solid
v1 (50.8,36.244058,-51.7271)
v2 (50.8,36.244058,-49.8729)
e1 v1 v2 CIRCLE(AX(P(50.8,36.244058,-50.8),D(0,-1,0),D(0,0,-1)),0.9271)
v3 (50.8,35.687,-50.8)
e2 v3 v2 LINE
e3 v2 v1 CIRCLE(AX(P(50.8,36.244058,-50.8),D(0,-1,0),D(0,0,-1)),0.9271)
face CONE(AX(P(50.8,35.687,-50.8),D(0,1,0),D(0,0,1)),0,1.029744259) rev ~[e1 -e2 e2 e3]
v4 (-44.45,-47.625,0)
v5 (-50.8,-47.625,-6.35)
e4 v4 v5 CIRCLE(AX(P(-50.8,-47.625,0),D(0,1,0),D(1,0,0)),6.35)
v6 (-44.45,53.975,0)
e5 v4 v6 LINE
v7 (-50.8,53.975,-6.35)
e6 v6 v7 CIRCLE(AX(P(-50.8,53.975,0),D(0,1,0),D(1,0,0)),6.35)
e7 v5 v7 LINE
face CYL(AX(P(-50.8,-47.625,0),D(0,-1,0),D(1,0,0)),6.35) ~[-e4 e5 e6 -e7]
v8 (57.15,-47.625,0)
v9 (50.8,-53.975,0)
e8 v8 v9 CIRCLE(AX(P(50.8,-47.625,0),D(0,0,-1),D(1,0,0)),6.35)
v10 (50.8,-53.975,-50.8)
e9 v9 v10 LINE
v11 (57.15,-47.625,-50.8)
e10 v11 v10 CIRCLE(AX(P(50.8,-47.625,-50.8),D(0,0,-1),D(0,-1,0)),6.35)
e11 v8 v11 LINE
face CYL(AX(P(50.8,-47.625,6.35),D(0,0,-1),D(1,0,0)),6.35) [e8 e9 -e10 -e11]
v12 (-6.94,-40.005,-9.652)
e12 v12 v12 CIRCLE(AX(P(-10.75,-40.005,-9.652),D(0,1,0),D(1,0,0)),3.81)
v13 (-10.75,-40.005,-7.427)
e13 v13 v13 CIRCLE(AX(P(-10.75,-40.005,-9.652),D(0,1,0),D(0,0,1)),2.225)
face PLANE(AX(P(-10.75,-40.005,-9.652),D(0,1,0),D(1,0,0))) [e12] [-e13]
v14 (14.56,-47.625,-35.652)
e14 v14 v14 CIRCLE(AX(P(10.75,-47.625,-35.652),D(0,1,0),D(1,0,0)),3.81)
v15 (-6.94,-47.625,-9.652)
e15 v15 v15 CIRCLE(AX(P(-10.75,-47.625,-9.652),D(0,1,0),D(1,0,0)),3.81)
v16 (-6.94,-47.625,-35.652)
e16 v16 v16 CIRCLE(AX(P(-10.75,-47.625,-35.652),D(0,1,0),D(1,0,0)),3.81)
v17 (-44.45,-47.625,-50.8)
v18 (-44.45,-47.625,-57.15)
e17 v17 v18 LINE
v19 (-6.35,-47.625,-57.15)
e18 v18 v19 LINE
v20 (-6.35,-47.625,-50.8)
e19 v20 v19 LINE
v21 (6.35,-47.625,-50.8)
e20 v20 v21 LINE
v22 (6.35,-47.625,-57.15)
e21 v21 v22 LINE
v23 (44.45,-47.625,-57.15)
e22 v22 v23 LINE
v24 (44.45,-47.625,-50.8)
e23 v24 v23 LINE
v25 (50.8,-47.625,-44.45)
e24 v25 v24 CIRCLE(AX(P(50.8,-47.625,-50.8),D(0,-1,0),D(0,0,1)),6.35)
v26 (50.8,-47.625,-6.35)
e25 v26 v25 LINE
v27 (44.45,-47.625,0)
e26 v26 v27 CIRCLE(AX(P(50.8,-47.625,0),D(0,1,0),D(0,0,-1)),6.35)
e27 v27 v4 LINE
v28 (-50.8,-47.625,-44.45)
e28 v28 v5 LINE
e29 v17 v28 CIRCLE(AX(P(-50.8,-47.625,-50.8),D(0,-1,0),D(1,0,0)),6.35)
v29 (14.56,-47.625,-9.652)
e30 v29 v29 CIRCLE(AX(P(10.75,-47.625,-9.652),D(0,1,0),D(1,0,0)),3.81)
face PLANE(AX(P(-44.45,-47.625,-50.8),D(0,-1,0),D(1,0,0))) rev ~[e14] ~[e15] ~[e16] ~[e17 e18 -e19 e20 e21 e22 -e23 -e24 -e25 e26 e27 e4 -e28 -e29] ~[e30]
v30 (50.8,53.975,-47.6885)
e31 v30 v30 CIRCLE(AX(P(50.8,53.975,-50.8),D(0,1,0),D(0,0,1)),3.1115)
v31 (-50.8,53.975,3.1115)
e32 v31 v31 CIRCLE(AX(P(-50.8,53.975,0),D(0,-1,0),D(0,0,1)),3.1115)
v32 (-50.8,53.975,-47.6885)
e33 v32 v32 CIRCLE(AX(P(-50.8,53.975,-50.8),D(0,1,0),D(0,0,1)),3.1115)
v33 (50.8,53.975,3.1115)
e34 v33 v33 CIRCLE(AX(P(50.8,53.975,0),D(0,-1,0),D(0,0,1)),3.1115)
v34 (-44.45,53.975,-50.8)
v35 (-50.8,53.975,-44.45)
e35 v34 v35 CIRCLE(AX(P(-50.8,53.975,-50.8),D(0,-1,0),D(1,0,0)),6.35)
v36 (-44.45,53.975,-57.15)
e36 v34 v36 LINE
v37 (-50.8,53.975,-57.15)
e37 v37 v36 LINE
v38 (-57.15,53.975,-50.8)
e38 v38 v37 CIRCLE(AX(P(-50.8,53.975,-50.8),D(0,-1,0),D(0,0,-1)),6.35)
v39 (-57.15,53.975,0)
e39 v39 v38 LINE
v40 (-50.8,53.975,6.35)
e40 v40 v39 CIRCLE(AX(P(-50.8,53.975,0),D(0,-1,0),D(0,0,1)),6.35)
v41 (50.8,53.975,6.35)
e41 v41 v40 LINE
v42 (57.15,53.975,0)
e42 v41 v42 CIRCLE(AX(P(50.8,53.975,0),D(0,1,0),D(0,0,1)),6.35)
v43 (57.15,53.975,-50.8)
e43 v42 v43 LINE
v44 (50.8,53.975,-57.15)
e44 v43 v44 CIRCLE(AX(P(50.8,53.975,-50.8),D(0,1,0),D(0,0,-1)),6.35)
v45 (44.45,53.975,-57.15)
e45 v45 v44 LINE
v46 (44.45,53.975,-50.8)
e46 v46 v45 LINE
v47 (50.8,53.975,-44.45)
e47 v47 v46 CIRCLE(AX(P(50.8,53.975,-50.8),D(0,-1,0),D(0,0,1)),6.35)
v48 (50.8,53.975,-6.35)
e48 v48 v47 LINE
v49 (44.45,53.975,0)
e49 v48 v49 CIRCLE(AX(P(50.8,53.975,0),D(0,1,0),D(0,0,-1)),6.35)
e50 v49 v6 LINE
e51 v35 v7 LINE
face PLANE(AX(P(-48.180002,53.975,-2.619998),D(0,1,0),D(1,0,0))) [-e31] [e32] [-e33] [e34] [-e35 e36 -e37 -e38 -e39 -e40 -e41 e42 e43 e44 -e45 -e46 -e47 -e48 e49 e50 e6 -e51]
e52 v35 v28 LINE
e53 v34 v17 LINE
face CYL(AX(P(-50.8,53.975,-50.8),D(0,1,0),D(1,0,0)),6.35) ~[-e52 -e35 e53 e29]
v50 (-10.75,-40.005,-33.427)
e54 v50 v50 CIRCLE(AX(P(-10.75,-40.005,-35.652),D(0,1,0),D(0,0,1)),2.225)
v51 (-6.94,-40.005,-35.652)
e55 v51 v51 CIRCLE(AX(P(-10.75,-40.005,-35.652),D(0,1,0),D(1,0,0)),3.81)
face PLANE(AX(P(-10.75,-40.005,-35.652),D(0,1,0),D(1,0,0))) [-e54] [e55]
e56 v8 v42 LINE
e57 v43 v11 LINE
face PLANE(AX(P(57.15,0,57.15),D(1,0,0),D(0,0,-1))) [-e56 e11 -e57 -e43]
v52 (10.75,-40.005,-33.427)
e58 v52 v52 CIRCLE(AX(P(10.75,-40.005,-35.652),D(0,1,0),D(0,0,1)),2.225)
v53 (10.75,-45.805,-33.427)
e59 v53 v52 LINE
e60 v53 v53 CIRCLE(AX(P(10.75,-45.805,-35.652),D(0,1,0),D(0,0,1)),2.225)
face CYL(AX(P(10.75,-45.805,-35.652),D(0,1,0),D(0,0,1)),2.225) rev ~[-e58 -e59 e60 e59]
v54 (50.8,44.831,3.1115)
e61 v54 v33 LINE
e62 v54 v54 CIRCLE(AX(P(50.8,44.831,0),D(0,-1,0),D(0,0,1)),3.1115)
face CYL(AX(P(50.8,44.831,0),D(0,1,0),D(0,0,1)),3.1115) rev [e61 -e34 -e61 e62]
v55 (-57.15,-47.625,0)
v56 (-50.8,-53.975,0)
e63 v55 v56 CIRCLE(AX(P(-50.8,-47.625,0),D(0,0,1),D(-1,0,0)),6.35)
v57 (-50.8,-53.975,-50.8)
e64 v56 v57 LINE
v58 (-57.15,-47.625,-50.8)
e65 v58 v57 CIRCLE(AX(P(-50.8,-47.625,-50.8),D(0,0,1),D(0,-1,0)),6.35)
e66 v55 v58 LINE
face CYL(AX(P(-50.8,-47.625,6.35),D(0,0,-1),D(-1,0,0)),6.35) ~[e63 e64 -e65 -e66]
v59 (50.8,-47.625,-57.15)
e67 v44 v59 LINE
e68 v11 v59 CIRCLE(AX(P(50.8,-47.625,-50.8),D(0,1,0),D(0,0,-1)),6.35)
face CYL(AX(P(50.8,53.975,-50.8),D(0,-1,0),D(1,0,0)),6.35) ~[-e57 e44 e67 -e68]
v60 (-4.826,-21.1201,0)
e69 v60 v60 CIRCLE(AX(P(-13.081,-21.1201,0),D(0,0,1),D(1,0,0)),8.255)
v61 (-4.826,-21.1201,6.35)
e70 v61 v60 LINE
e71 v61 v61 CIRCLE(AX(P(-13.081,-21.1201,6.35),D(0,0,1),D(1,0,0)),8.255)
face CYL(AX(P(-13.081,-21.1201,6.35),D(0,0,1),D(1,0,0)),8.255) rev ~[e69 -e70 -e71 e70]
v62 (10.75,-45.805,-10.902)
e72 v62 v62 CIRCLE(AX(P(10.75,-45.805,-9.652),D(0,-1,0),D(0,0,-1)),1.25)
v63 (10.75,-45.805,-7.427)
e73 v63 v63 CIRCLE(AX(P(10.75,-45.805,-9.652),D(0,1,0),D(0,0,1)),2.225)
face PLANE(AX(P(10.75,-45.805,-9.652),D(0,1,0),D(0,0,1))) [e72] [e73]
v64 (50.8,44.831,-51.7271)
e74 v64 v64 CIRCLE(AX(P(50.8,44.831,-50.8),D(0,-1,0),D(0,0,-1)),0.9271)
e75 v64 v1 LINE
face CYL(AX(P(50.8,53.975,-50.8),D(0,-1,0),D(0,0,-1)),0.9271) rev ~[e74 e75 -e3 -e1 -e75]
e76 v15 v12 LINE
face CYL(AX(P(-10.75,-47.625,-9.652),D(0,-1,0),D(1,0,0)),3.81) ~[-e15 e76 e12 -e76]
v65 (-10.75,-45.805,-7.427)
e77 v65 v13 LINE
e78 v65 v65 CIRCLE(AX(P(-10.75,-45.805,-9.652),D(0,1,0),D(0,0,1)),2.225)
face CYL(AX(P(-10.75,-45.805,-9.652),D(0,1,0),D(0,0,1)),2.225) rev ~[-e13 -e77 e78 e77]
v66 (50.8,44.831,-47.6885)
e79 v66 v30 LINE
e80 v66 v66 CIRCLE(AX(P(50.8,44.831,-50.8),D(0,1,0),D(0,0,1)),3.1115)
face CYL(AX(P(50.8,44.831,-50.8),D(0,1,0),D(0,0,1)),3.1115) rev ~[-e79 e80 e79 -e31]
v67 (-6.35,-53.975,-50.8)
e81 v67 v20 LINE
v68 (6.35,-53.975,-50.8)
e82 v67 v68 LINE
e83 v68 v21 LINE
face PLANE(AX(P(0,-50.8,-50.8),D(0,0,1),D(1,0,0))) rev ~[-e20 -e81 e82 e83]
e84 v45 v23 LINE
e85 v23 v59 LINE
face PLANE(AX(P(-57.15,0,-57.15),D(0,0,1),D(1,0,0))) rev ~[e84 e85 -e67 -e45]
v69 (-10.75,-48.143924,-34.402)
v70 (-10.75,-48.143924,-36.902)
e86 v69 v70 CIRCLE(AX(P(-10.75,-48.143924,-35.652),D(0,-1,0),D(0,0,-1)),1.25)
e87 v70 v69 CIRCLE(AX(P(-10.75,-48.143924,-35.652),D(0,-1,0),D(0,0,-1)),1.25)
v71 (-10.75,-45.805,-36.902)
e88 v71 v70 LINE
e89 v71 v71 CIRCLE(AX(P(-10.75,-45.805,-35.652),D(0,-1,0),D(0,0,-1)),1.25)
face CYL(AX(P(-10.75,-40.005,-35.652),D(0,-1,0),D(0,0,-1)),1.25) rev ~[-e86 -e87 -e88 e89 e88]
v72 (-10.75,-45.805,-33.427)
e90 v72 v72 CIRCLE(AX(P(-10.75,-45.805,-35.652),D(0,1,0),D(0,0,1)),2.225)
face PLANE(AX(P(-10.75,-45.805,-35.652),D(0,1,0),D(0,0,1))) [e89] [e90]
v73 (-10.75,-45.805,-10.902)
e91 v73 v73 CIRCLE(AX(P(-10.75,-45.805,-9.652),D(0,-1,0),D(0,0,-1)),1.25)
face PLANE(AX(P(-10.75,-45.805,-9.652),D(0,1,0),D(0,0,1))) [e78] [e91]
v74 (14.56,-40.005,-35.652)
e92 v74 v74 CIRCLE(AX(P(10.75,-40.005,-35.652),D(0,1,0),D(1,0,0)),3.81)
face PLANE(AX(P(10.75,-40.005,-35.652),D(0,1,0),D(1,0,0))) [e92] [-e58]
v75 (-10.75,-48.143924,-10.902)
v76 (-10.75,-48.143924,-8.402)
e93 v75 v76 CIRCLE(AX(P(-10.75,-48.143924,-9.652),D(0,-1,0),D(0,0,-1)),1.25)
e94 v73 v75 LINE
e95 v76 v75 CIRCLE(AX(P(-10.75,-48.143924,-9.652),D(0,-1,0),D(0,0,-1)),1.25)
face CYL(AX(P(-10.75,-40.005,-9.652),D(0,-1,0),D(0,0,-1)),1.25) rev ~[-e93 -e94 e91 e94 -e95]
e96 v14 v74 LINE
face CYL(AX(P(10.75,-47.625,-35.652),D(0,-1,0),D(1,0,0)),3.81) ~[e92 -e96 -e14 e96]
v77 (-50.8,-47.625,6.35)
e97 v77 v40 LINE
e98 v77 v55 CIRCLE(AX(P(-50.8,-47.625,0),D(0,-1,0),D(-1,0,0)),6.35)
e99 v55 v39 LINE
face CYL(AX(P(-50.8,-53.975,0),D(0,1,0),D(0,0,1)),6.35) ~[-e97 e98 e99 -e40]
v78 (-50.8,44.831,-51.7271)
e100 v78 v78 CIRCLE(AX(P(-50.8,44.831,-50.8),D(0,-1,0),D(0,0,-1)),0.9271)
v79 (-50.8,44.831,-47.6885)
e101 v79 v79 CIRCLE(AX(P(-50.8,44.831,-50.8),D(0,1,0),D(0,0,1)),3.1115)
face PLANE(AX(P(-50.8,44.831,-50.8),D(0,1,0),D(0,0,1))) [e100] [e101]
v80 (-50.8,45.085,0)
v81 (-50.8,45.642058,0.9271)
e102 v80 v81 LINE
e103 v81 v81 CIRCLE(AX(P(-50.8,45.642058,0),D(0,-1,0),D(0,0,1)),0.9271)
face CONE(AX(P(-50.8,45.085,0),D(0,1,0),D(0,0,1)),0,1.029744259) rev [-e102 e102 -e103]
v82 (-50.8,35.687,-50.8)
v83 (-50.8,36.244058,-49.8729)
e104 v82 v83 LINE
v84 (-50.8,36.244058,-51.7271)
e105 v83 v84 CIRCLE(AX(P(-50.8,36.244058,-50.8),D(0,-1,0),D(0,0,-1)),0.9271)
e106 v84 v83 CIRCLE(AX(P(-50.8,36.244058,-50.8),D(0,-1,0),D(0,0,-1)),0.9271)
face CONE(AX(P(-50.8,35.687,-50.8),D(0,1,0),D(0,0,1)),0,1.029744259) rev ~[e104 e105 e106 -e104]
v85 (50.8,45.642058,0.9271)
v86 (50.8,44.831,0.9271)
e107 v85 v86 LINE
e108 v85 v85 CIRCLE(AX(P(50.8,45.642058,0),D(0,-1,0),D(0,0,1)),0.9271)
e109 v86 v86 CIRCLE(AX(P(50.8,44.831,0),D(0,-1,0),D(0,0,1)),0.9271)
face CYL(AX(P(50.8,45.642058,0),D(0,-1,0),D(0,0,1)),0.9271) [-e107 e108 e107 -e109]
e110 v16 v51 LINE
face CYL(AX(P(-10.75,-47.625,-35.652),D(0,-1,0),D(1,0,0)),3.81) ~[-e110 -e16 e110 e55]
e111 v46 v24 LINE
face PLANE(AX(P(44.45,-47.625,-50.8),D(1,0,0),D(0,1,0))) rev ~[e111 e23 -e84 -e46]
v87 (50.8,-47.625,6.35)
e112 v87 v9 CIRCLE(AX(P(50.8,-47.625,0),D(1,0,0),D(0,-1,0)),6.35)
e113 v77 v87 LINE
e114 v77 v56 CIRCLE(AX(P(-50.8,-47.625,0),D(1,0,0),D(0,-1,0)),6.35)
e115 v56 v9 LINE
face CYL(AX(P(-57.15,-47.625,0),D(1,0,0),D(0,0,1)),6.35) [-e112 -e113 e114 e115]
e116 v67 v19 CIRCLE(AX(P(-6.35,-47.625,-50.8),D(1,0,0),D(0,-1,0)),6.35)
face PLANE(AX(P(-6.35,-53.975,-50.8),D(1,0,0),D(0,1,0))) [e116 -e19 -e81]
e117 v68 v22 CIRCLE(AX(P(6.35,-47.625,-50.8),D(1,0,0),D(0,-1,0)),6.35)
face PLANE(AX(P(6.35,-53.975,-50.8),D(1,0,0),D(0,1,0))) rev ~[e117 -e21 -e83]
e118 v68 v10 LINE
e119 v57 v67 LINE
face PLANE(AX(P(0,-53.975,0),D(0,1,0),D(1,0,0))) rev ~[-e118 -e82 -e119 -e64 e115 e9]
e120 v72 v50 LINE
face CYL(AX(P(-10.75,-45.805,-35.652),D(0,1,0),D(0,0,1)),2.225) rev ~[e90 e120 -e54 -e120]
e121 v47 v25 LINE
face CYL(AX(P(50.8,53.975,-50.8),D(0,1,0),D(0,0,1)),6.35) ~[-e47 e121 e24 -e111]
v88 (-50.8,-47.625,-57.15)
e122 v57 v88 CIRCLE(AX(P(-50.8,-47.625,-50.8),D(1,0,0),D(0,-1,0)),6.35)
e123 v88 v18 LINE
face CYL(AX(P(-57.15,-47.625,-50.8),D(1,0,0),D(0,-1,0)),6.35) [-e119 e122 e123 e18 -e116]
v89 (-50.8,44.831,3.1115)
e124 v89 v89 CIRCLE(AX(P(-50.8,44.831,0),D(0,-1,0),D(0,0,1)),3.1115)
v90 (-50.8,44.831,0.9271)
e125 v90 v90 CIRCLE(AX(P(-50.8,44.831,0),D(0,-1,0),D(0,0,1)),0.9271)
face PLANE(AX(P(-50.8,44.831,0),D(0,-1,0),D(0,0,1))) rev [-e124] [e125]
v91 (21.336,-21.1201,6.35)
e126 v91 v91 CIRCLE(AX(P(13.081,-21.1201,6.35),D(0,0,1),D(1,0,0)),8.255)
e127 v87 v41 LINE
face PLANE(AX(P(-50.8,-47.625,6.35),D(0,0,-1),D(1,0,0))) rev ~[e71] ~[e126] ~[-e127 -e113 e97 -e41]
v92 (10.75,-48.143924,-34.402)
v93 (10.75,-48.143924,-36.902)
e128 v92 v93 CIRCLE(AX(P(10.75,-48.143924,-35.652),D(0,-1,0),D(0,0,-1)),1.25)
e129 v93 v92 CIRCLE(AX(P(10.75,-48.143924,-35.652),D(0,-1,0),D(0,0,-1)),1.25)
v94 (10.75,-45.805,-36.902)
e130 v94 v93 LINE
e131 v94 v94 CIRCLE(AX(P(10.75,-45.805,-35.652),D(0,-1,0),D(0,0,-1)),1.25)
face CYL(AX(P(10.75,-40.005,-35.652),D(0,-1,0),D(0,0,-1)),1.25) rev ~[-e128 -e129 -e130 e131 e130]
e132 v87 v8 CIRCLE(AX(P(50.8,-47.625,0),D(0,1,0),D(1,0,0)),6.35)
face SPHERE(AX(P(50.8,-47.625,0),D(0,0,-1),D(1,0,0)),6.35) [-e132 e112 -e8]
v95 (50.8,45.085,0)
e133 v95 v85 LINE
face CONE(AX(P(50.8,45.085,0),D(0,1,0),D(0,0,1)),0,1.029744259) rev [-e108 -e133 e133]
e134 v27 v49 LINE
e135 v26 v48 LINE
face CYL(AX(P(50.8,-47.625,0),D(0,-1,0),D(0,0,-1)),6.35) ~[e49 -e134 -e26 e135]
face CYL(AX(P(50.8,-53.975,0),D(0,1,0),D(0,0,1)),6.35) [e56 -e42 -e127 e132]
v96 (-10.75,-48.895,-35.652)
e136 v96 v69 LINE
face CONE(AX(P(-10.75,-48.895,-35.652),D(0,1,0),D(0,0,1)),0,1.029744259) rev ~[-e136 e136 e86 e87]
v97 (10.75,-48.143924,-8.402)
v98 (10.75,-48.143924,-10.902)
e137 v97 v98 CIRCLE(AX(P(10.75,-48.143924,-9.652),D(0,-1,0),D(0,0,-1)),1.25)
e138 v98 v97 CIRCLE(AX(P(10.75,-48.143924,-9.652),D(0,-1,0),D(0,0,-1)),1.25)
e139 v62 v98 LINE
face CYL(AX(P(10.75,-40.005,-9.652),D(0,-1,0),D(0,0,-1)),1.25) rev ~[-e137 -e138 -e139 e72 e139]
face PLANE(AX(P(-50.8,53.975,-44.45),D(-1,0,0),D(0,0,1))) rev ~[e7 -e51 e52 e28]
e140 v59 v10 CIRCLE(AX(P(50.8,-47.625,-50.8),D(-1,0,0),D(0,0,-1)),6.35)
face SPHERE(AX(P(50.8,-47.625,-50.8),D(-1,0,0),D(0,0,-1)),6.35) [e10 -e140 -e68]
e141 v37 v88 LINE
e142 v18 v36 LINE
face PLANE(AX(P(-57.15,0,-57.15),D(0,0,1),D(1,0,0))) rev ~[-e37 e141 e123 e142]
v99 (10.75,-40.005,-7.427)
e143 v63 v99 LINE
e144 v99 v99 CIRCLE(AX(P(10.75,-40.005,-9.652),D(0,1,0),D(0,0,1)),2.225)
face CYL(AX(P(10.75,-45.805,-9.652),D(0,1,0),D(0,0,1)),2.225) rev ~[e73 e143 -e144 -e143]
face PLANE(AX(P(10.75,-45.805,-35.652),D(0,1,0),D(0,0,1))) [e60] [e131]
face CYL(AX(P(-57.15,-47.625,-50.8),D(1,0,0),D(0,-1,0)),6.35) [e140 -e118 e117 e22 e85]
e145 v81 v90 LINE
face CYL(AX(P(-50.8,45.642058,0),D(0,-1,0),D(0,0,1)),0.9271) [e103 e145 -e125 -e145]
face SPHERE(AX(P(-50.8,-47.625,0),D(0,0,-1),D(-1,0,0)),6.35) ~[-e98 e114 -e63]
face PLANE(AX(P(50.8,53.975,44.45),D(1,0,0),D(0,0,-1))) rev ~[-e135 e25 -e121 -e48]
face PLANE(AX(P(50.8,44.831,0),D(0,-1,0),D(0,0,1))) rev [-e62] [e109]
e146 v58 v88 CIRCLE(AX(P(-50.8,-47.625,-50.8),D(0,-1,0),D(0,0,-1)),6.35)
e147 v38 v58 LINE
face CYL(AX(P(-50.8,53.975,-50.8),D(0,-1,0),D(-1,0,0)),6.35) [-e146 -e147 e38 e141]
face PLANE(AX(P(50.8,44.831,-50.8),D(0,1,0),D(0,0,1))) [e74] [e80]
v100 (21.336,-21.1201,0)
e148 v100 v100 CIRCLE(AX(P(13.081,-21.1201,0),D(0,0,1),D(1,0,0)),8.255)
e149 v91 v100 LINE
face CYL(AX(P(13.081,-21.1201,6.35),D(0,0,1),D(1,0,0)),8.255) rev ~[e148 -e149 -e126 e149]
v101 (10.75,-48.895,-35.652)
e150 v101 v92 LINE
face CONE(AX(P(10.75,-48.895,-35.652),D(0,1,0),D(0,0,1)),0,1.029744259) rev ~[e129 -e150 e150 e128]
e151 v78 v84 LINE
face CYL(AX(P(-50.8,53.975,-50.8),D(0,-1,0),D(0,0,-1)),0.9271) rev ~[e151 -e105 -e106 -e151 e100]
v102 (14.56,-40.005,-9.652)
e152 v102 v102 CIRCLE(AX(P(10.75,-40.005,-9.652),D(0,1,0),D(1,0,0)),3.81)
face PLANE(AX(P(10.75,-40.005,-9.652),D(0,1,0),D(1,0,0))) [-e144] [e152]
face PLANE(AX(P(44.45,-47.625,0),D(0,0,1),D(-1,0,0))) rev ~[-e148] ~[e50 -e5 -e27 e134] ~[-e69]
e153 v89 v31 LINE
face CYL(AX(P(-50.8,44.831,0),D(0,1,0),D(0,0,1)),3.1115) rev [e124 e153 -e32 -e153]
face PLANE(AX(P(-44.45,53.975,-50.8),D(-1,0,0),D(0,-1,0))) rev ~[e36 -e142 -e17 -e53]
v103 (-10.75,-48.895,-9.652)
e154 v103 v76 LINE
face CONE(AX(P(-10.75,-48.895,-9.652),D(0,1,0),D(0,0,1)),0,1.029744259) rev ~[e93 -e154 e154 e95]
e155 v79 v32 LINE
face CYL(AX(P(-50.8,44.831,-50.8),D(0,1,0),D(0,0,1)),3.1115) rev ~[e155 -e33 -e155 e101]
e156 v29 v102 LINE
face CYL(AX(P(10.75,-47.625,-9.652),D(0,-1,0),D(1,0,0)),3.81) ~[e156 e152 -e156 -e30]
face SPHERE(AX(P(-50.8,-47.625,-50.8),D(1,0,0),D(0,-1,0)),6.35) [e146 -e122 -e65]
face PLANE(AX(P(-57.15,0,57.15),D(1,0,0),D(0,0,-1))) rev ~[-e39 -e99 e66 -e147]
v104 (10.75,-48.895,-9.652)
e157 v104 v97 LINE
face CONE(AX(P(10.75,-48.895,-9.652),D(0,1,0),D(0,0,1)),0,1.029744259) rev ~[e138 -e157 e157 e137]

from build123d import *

# Parameters (mm, degrees)
SKETCH1_W                                           = 114.3
SKETCH1_H                                           = 114.3
BOSS_EXTRUDE1_DEPTH                                 = 53.975
CUT_EXTRUDE1_DEPTH                                  = 101.6
CBORE_FOR_0_BINDING_HEAD_MACHINE_SCREW1_D           = 1.8542
CBORE_FOR_0_BINDING_HEAD_MACHINE_SCREW1_DEPTH       = 17.73094212
CBORE_FOR_0_BINDING_HEAD_MACHINE_SCREW1_CBORE_D     = 6.223
CBORE_FOR_0_BINDING_HEAD_MACHINE_SCREW1_CBORE_DEPTH = 9.144
CBORE_FOR_0_BINDING_HEAD_MACHINE_SCREW1_TIP         = 0.55705788
SKETCH5_W                                           = 34.94
SKETCH5_H                                           = 34.94
SKETCH5_W_2                                         = 15.25
SKETCH5_H_2                                         = 15.25
CUT_EXTRUDE5_DEPTH                                  = 0.55
CUT_EXTRUDE6_REACH                                  = 8.35
SKETCH5_3_W                                         = 15.25
SKETCH5_3_H                                         = 15.25
SKETCH13_R                                          = 2.54
BOSS_EXTRUDE2_DEPTH                                 = 1.27
CUT_EXTRUDE7_DEPTH                                  = 2.54
CUT_EXTRUDE8_DEPTH                                  = 0.635
CUT_EXTRUDE9_DEPTH                                  = 1.27
CBORE_FOR_M5_HEX_HEAD_BOLT2_AT_2_COUNT              = 2
CBORE_FOR_M5_HEX_HEAD_BOLT2_AT_2_PITCH              = 27.94
CBORE_FOR_M5_HEX_HEAD_BOLT2_AT_3_COUNT              = 2
CBORE_FOR_M5_HEX_HEAD_BOLT2_AT_3_PITCH              = 39.513126933
CBORE_FOR_M5_HEX_HEAD_BOLT2_AT_4_COUNT              = 2
CBORE_FOR_M5_HEX_HEAD_BOLT2_AT_4_PITCH              = 27.94
CUT_EXTRUDE10_DEPTH                                 = 2.032
CIRPATTERN1_COUNT                                   = 4
SKETCH24_W                                          = 114.3
SKETCH24_H                                          = 107.95
CUT_EXTRUDE11_DEPTH                                 = 50.8
BOSS_EXTRUDE3_DEPTH                                 = 101.6
SKETCH27_R                                          = 3.81
BOSS_EXTRUDE4_DEPTH                                 = 7.62
CUT_EXTRUDE12_REACH                                 = 68.04
SKETCH26_R                                          = 8.255
CBORE_FOR_M5_HEX_HEAD_BOLT3_D                       = 2.5
CBORE_FOR_M5_HEX_HEAD_BOLT3_DEPTH                   = 8.138924226
CBORE_FOR_M5_HEX_HEAD_BOLT3_CBORE_D                 = 4.45
CBORE_FOR_M5_HEX_HEAD_BOLT3_CBORE_DEPTH             = 5.8
CBORE_FOR_M5_HEX_HEAD_BOLT3_TIP                     = 0.751075774
CBORE_FOR_0_BINDING_HEAD_MACHINE_SC_2_COUNT         = 2
CBORE_FOR_0_BINDING_HEAD_MACHINE_SC_2_PITCH         = 101.6
FILLET1_R                                           = 6.35
CUT_EXTRUDE13_REACH                                 = 10.89
SKETCH30_W                                          = 34.94
SKETCH30_H                                          = 34.94
SKETCH30_W_2                                        = 12.7
SKETCH30_H_2                                        = 6.35


with BuildPart() as part:
    # Sketch1 → Boss-Extrude1 (new body, symmetric)
    with BuildSketch(Plane(origin=(0, 0, 0), x_dir=(1, 0, 0), z_dir=(0, 1, 0))):
        Rectangle(SKETCH1_W, SKETCH1_H)
    extrude(amount=BOSS_EXTRUDE1_DEPTH, both=True)

    # Sketch2 → Cut-Extrude1 (cut)
    with BuildSketch(Plane(origin=(0, 53.975, 0), x_dir=(1, 0, 0), z_dir=(0, 1, 0))):
        with BuildLine():
            Line((44.45, 50.8), (-44.45, 50.8))
            ThreePointArc((-44.45, 50.8), (-46.309871939, 46.309871939), (-50.8, 44.45))
            Line((-50.8, 44.45), (-50.8, -44.45))
            ThreePointArc((-50.8, -44.45), (-46.309871939, -46.309871939), (-44.45, -50.8))
            Line((-44.45, -50.8), (44.45, -50.8))
            ThreePointArc((44.45, -50.8), (46.309871939, -46.309871939), (50.8, -44.45))
            Line((50.8, -44.45), (50.8, 44.45))
            ThreePointArc((50.8, 44.45), (46.309871939, 46.309871939), (44.45, 50.8))
        make_face()
    extrude(amount=-CUT_EXTRUDE1_DEPTH, mode=Mode.SUBTRACT)

    # CBORE for #0 Binding Head Machine Screw1
    with Locations(Plane(origin=(-50.8, 53.975, -50.8), x_dir=(0, 0, 1), z_dir=(0, 1, 0))):
        with Locations((0, 0), (0, 101.6), (101.6, 0), (101.6, 101.6)):
            CounterBoreHole(CBORE_FOR_0_BINDING_HEAD_MACHINE_SCREW1_D / 2, CBORE_FOR_0_BINDING_HEAD_MACHINE_SCREW1_CBORE_D / 2, CBORE_FOR_0_BINDING_HEAD_MACHINE_SCREW1_CBORE_DEPTH, depth=CBORE_FOR_0_BINDING_HEAD_MACHINE_SCREW1_DEPTH)
            with Locations((0, 0, -(CBORE_FOR_0_BINDING_HEAD_MACHINE_SCREW1_DEPTH + CBORE_FOR_0_BINDING_HEAD_MACHINE_SCREW1_TIP / 2))):  # 118° drill point
                Cone(0, CBORE_FOR_0_BINDING_HEAD_MACHINE_SCREW1_D / 2, CBORE_FOR_0_BINDING_HEAD_MACHINE_SCREW1_TIP, mode=Mode.SUBTRACT)

    # Sketch5 → Cut-Extrude5 (cut)
    with BuildSketch(Plane.XY.offset(-50.8)):
        with Locations((0, 3.185)):
            Rectangle(SKETCH5_W, SKETCH5_H)
        with Locations((0, 3.185)):
            Rectangle(SKETCH5_W_2, SKETCH5_H_2, mode=Mode.SUBTRACT)
    extrude(amount=-CUT_EXTRUDE5_DEPTH, mode=Mode.SUBTRACT)

    # Sketch5<3> → Cut-Extrude6 (cut, up to next)
    with BuildSketch(Plane.XY.offset(-50.8), mode=Mode.PRIVATE) as cut_extrude6_sk1:
        with Locations((0, 3.185)):
            Rectangle(SKETCH5_3_W, SKETCH5_3_H)
    cut_extrude6_tool1 = extrude(cut_extrude6_sk1.sketch, amount=-CUT_EXTRUDE6_REACH, mode=Mode.PRIVATE) & part.part
    add(cut_extrude6_tool1.solids().sort_by_distance((0, 3.185, -50.8))[0], mode=Mode.SUBTRACT)

    # Sketch13 → Boss-Extrude2 (add)
    with BuildSketch(Plane(origin=(0, 0, -57.15), x_dir=(-1, 0, 0), z_dir=(0, 0, -1))):
        with Locations((-14.2875, 25.4)):
            Circle(SKETCH13_R)
    boss_extrude2 = extrude(amount=BOSS_EXTRUDE2_DEPTH)

    # Sketch14 → Revolve1 (revolve)
    with BuildSketch(Plane(origin=(14.2875, 25.4, -57.15), x_dir=(-1, 0, 0), z_dir=(0, -1, 0))):
        Polygon((0, 1.27), (0, 2.54), (2.286, 2.54), (2.64, 1.905), (2.64, 1.27), (2.54, 1.27), align=None)
    revolve1 = revolve(axis=Axis((14.2875, 25.4, -58.42), (0, 0, -1)))

    # Sketch13<4> → Cut-Extrude7 (cut)
    with BuildSketch(Plane(origin=(0, 0, -57.15), x_dir=(-1, 0, 0), z_dir=(0, 0, -1))):
        with BuildLine():
            Line((16.083551224, 27.196051224), (14.7875, 25.9))
            Line((14.7875, 25.9), (14.7875, 24.9))
            Line((14.7875, 24.9), (16.083551224, 23.603948776))
            ThreePointArc((16.083551224, 23.603948776), (16.634154013, 24.427984082), (16.8275, 25.4))
            ThreePointArc((16.8275, 25.4), (16.634154013, 26.372015918), (16.083551224, 27.196051224))
        make_face()
        with BuildLine():
            Line((16.083551224, 23.603948776), (14.7875, 24.9))
            Line((14.7875, 24.9), (14.7875, 22.909698813))
            ThreePointArc((14.7875, 22.909698813), (15.486857561, 23.160995435), (16.083551224, 23.603948776))
        make_face()
        with BuildLine():
            ThreePointArc((14.7875, 27.890301187), (14.2875, 27.94), (13.7875, 27.890301187))
            Line((13.7875, 27.890301187), (13.7875, 25.9))
            Line((13.7875, 25.9), (14.2875, 25.4))
            Line((14.2875, 25.4), (14.7875, 25.9))
            Line((14.7875, 25.9), (14.7875, 27.890301187))
        make_face()
        with BuildLine():
            Line((14.2875, 25.4), (13.7875, 24.9))
            Line((13.7875, 24.9), (13.7875, 22.909698813))
            ThreePointArc((13.7875, 22.909698813), (14.2875, 22.86), (14.7875, 22.909698813))
            Line((14.7875, 22.909698813), (14.7875, 24.9))
            Line((14.7875, 24.9), (14.2875, 25.4))
        make_face()
        with BuildLine():
            ThreePointArc((16.083551224, 27.196051224), (15.486857561, 27.639004565), (14.7875, 27.890301187))
            Line((14.7875, 27.890301187), (14.7875, 25.9))
            Line((14.7875, 25.9), (16.083551224, 27.196051224))
        make_face()
        Polygon((14.7875, 25.9), (14.2875, 25.4), (14.7875, 24.9), align=None)
        Polygon((14.2875, 25.4), (13.7875, 25.9), (13.7875, 24.9), align=None)
        with BuildLine():
            Line((13.7875, 24.9), (13.7875, 25.9))
            Line((13.7875, 25.9), (12.491448776, 27.196051224))
            ThreePointArc((12.491448776, 27.196051224), (11.7475, 25.4), (12.491448776, 23.603948776))
            Line((12.491448776, 23.603948776), (13.7875, 24.9))
        make_face()
        with BuildLine():
            Line((13.7875, 22.909698813), (13.7875, 24.9))
            Line((13.7875, 24.9), (12.491448776, 23.603948776))
            ThreePointArc((12.491448776, 23.603948776), (13.088142439, 23.160995435), (13.7875, 22.909698813))
        make_face()
        with BuildLine():
            Line((13.7875, 25.9), (13.7875, 27.890301187))
            ThreePointArc((13.7875, 27.890301187), (13.088142439, 27.639004565), (12.491448776, 27.196051224))
            Line((12.491448776, 27.196051224), (13.7875, 25.9))
        make_face()
    cut_extrude7 = extrude(amount=-CUT_EXTRUDE7_DEPTH, mode=Mode.SUBTRACT)

    # Sketch13<5> → Cut-Extrude8 (cut)
    with BuildSketch(Plane(origin=(0, 0, -57.15), x_dir=(-1, 0, 0), z_dir=(0, 0, -1))):
        with BuildLine():
            Line((12.491448776, 23.603948776), (11.593423164, 22.705923164))
            ThreePointArc((11.593423164, 22.705923164), (12.601161082, 21.983516274), (13.7875, 21.622950887))
            Line((13.7875, 21.622950887), (13.7875, 22.909698813))
            ThreePointArc((13.7875, 22.909698813), (13.088142439, 23.160995435), (12.491448776, 23.603948776))
        make_face()
        with BuildLine():
            ThreePointArc((14.7875, 21.622950887), (15.973838918, 21.983516274), (16.981576836, 22.705923164))
            Line((16.981576836, 22.705923164), (16.083551224, 23.603948776))
            ThreePointArc((16.083551224, 23.603948776), (15.486857561, 23.160995435), (14.7875, 22.909698813))
            Line((14.7875, 22.909698813), (14.7875, 21.622950887))
        make_face()
        with BuildLine():
            ThreePointArc((16.981576836, 28.094076836), (15.973838918, 28.816483726), (14.7875, 29.177049113))
            Line((14.7875, 29.177049113), (14.7875, 27.890301187))
            ThreePointArc((14.7875, 27.890301187), (15.486857561, 27.639004565), (16.083551224, 27.196051224))
            Line((16.083551224, 27.196051224), (16.981576836, 28.094076836))
        make_face()
        with BuildLine():
            Line((13.7875, 27.890301187), (13.7875, 29.177049113))
            ThreePointArc((13.7875, 29.177049113), (12.601161082, 28.816483726), (11.593423164, 28.094076836))
            Line((11.593423164, 28.094076836), (12.491448776, 27.196051224))
            ThreePointArc((12.491448776, 27.196051224), (13.088142439, 27.639004565), (13.7875, 27.890301187))
        make_face()
    cut_extrude8 = extrude(amount=-CUT_EXTRUDE8_DEPTH, mode=Mode.SUBTRACT)

    # Sketch13<6> → Cut-Extrude9 (cut)
    with BuildSketch(Plane(origin=(0, 0, -57.15), x_dir=(-1, 0, 0), z_dir=(0, 0, -1))):
        with BuildLine():
            ThreePointArc((14.7875, 29.177049113), (14.2875, 29.21), (13.7875, 29.177049113))
            Line((13.7875, 29.177049113), (13.7875, 27.890301187))
            ThreePointArc((13.7875, 27.890301187), (14.2875, 27.94), (14.7875, 27.890301187))
            Line((14.7875, 27.890301187), (14.7875, 29.177049113))
        make_face()
        with BuildLine():
            Line((13.7875, 22.909698813), (13.7875, 21.622950887))
            ThreePointArc((13.7875, 21.622950887), (14.2875, 21.59), (14.7875, 21.622950887))
            Line((14.7875, 21.622950887), (14.7875, 22.909698813))
            ThreePointArc((14.7875, 22.909698813), (14.2875, 22.86), (13.7875, 22.909698813))
        make_face()
    cut_extrude9 = extrude(amount=-CUT_EXTRUDE9_DEPTH, mode=Mode.SUBTRACT)

    # Sketch17 → Cut-Revolve1 (revolve, cut)
    with BuildSketch(Plane(origin=(-14.2875, 25.4, -57.15), x_dir=(-1, 0, 0), z_dir=(0, -1, 0))):
        Polygon((0, -1.27), (0, -2.54), (2.286, -2.54), (2.64, -1.905), (2.64, -1.27), (2.54, -1.27), align=None)
    cut_revolve1 = revolve(axis=Axis((-14.2875, 25.4, -55.88), (0, 0, 1)), mode=Mode.SUBTRACT)

    # Sketch21 → CBORE for M5 Hex Head Bolt2 (revolve, cut)
    with BuildSketch(Plane(origin=(13.97, 17.155, -57.15), x_dir=(0, 1, 0), z_dir=(1, 0, 0))):
        Polygon((0, 0), (0, 18.288), (2.75, 16.635633298), (2.75, 5.8), (2.25, 5.8), (2.25, 0), align=None)
    cbore_for_m5_hex_head_bolt2 = revolve(axis=Axis((13.97, 17.155, -63.5), (0, 0, 1)), mode=Mode.SUBTRACT)

    # CBORE for M5 Hex Head Bolt2 at 2: CBORE for M5 Hex Head Bolt2 ×2
    with Locations(*[(-i * CBORE_FOR_M5_HEX_HEAD_BOLT2_AT_2_PITCH, 0, 0) for i in range(1, CBORE_FOR_M5_HEX_HEAD_BOLT2_AT_2_COUNT)]):
        add(cbore_for_m5_hex_head_bolt2, mode=Mode.SUBTRACT)

    # CBORE for M5 Hex Head Bolt2 at 3: CBORE for M5 Hex Head Bolt2 ×2
    with Locations(*[Vector(-0.707106781, -0.707106781, 0) * (i * CBORE_FOR_M5_HEX_HEAD_BOLT2_AT_3_PITCH) for i in range(1, CBORE_FOR_M5_HEX_HEAD_BOLT2_AT_3_COUNT)]):
        add(cbore_for_m5_hex_head_bolt2, mode=Mode.SUBTRACT)

    # CBORE for M5 Hex Head Bolt2 at 4: CBORE for M5 Hex Head Bolt2 ×2
    with Locations(*[(0, -i * CBORE_FOR_M5_HEX_HEAD_BOLT2_AT_4_PITCH, 0) for i in range(1, CBORE_FOR_M5_HEX_HEAD_BOLT2_AT_4_COUNT)]):
        add(cbore_for_m5_hex_head_bolt2, mode=Mode.SUBTRACT)

    # Sketch23 → Cut-Extrude10 (cut)
    with BuildSketch(Plane(origin=(0, 0, -59.69), x_dir=(-1, 0, 0), z_dir=(0, 0, -1))):
        with BuildLine():
            ThreePointArc((-13.7875, 27.992219127), (-14.2875, 28.04), (-14.7875, 27.992219127))
            Line((-14.7875, 27.992219127), (-14.7875, 22.807780873))
            ThreePointArc((-14.7875, 22.807780873), (-14.2875, 22.76), (-13.7875, 22.807780873))
            Line((-13.7875, 22.807780873), (-13.7875, 27.992219127))
        make_face()
    cut_extrude10 = extrude(amount=-CUT_EXTRUDE10_DEPTH, mode=Mode.SUBTRACT)

    # CirPattern1: Boss-Extrude2, Revolve1, Cut-Extrude7, Cut-Extrude8, Cut-Extrude9, Cut-Revolve1, Cut-Extrude10 ×4 about axis
    cirpattern1_axis = Axis((0, 3.185, 0), (0, 0, 1))
    for i in range(1, CIRPATTERN1_COUNT):
        add(boss_extrude2.rotate(cirpattern1_axis, i * 360 / CIRPATTERN1_COUNT))
        add(revolve1.rotate(cirpattern1_axis, i * 360 / CIRPATTERN1_COUNT))
        add(cut_extrude7.rotate(cirpattern1_axis, i * 360 / CIRPATTERN1_COUNT), mode=Mode.SUBTRACT)
        add(cut_extrude8.rotate(cirpattern1_axis, i * 360 / CIRPATTERN1_COUNT), mode=Mode.SUBTRACT)
        add(cut_extrude9.rotate(cirpattern1_axis, i * 360 / CIRPATTERN1_COUNT), mode=Mode.SUBTRACT)
        add(cut_revolve1.rotate(cirpattern1_axis, i * 360 / CIRPATTERN1_COUNT), mode=Mode.SUBTRACT)
        add(cut_extrude10.rotate(cirpattern1_axis, i * 360 / CIRPATTERN1_COUNT), mode=Mode.SUBTRACT)

    # Sketch24 → Cut-Extrude11 (cut)
    with BuildSketch(Plane.XY.offset(57.15)):
        Rectangle(SKETCH24_W, SKETCH24_H)
    extrude(amount=-CUT_EXTRUDE11_DEPTH, mode=Mode.SUBTRACT)

    # Sketch25 → Boss-Extrude3 (add)
    with BuildSketch(Plane(origin=(0, -47.625, 0), x_dir=(1, 0, 0), z_dir=(0, 1, 0))):
        with BuildLine():
            Line((-50.8, 6.35), (-50.8, 0))
            Line((-50.8, 0), (-44.45, 0))
            ThreePointArc((-44.45, 0), (-46.309871939, 4.490128061), (-50.8, 6.35))
        make_face()
        Polygon((-50.8, 0), (-50.8, -6.35), (50.8, -6.35), (50.8, 0), (44.45, 0), (-44.45, 0), align=None)
        with BuildLine():
            Line((44.45, 0), (50.8, 0))
            Line((50.8, 0), (50.8, 6.35))
            ThreePointArc((50.8, 6.35), (46.309871939, 4.490128061), (44.45, 0))
        make_face()
    extrude(amount=BOSS_EXTRUDE3_DEPTH)

    # Sketch27 → Boss-Extrude4 (add)
    with BuildSketch(Plane(origin=(0, -47.625, 0), x_dir=(1, 0, 0), z_dir=(0, 1, 0))):
        with Locations((-10.75, 9.652)):
            Circle(SKETCH27_R)
        with Locations((10.75, 9.652)):
            Circle(SKETCH27_R)
        with Locations((10.75, 35.652)):
            Circle(SKETCH27_R)
        with Locations((-10.75, 35.652)):
            Circle(SKETCH27_R)
    extrude(amount=BOSS_EXTRUDE4_DEPTH)

    # Sketch26 → Cut-Extrude12 (cut, up to next)
    with BuildSketch(Plane.XY.offset(6.35), mode=Mode.PRIVATE) as cut_extrude12_sk1:
        with Locations((-13.081, -21.1201)):
            Circle(SKETCH26_R)
    cut_extrude12_tool1 = extrude(cut_extrude12_sk1.sketch, amount=-CUT_EXTRUDE12_REACH, mode=Mode.PRIVATE) & part.part
    add(cut_extrude12_tool1.solids().sort_by_distance((-13.081, -21.1201, 6.35))[0], mode=Mode.SUBTRACT)
    # Sketch26 → Cut-Extrude12 (cut, up to next)
    with BuildSketch(Plane.XY.offset(6.35), mode=Mode.PRIVATE) as cut_extrude12_sk2:
        with Locations((13.081, -21.1201)):
            Circle(SKETCH26_R)
    cut_extrude12_tool2 = extrude(cut_extrude12_sk2.sketch, amount=-CUT_EXTRUDE12_REACH, mode=Mode.PRIVATE) & part.part
    add(cut_extrude12_tool2.solids().sort_by_distance((13.081, -21.1201, 6.35))[0], mode=Mode.SUBTRACT)

    # CBORE for M5 Hex Head Bolt3
    with Locations(Plane(origin=(-10.75, -40.005, -35.652), x_dir=(0, 0, 1), z_dir=(0, 1, 0))):
        with Locations((0, 0), (0, 21.5), (26, 21.5), (26, 0)):
            CounterBoreHole(CBORE_FOR_M5_HEX_HEAD_BOLT3_D / 2, CBORE_FOR_M5_HEX_HEAD_BOLT3_CBORE_D / 2, CBORE_FOR_M5_HEX_HEAD_BOLT3_CBORE_DEPTH, depth=CBORE_FOR_M5_HEX_HEAD_BOLT3_DEPTH)
            with Locations((0, 0, -(CBORE_FOR_M5_HEX_HEAD_BOLT3_DEPTH + CBORE_FOR_M5_HEX_HEAD_BOLT3_TIP / 2))):  # 118° drill point
                Cone(0, CBORE_FOR_M5_HEX_HEAD_BOLT3_D / 2, CBORE_FOR_M5_HEX_HEAD_BOLT3_TIP, mode=Mode.SUBTRACT)

    # Sketch29 → CBORE for #0 Binding Head Machine Screw2 (revolve, cut)
    with BuildSketch(Plane(origin=(50.8, 53.975, 0), x_dir=(0, 0, 1), z_dir=(1, 0, 0))):
        Polygon((0, 0), (0, 8.89), (0.9271, 8.33294212), (0.9271, 9.144), (3.1115, 9.144), (3.1115, 0), align=None)
    cbore_for_0_binding_head_machine_screw2 = revolve(axis=Axis((50.8, 60.325, 0), (0, -1, 0)), mode=Mode.SUBTRACT)

    # CBORE for _0 Binding Head Machine Sc 2: CBORE for #0 Binding Head Machine Screw2 ×2
    with Locations(*[(-i * CBORE_FOR_0_BINDING_HEAD_MACHINE_SC_2_PITCH, 0, 0) for i in range(1, CBORE_FOR_0_BINDING_HEAD_MACHINE_SC_2_COUNT)]):
        add(cbore_for_0_binding_head_machine_screw2, mode=Mode.SUBTRACT)

    # Fillet1
    fillet1_edges = [part.edges().sort_by_distance(p)[0] for p in [
        (0, -53.975, -57.15),
        (-57.15, -53.975, -25.4),
        (-57.15, 0, -57.15),
        (57.15, 0, -57.15),
        (57.15, -53.975, -25.4),
        (-57.15, 0, 6.35),
        (57.15, 0, 6.35),
        (0, -53.975, 6.35),
    ]]
    fillet(fillet1_edges, radius=FILLET1_R)

    # Sketch30 → Cut-Extrude13 (cut, up to next)
    with BuildSketch(Plane.XY.offset(-50.8), mode=Mode.PRIVATE) as cut_extrude13_sk1:
        Polygon((44.45, 53.975), (-44.45, 53.975), (-44.45, -47.625), (-6.35, -47.625), (6.35, -47.625), (44.45, -47.625), align=None)
        with Locations((0, 3.185)):
            Rectangle(SKETCH30_W, SKETCH30_H, mode=Mode.SUBTRACT)
    cut_extrude13_tool1 = extrude(cut_extrude13_sk1.sketch, amount=-CUT_EXTRUDE13_REACH, mode=Mode.PRIVATE) & part.part
    add(cut_extrude13_tool1.solids().sort_by_distance((0, 52.624971, -50.8))[0], mode=Mode.SUBTRACT)
    # Sketch30 → Cut-Extrude13 (cut, up to next)
    with BuildSketch(Plane.XY.offset(-50.8), mode=Mode.PRIVATE) as cut_extrude13_sk2:
        with Locations((0, 3.185)):
            Rectangle(SKETCH30_W, SKETCH30_H)
    cut_extrude13_tool2 = extrude(cut_extrude13_sk2.sketch, amount=-CUT_EXTRUDE13_REACH, mode=Mode.PRIVATE) & part.part
    add(cut_extrude13_tool2.solids().sort_by_distance((0, 3.185, -50.8))[0], mode=Mode.SUBTRACT)
    # Sketch30 → Cut-Extrude13 (cut, up to next)
    with BuildSketch(Plane.XY.offset(-50.8), mode=Mode.PRIVATE) as cut_extrude13_sk3:
        with Locations((0, -50.8)):
            Rectangle(SKETCH30_W_2, SKETCH30_H_2)
    cut_extrude13_tool3 = extrude(cut_extrude13_sk3.sketch, amount=-CUT_EXTRUDE13_REACH, mode=Mode.PRIVATE) & part.part
    add(cut_extrude13_tool3.solids().sort_by_distance((0, -50.8, -50.8))[0], mode=Mode.SUBTRACT)


solid = part.part
